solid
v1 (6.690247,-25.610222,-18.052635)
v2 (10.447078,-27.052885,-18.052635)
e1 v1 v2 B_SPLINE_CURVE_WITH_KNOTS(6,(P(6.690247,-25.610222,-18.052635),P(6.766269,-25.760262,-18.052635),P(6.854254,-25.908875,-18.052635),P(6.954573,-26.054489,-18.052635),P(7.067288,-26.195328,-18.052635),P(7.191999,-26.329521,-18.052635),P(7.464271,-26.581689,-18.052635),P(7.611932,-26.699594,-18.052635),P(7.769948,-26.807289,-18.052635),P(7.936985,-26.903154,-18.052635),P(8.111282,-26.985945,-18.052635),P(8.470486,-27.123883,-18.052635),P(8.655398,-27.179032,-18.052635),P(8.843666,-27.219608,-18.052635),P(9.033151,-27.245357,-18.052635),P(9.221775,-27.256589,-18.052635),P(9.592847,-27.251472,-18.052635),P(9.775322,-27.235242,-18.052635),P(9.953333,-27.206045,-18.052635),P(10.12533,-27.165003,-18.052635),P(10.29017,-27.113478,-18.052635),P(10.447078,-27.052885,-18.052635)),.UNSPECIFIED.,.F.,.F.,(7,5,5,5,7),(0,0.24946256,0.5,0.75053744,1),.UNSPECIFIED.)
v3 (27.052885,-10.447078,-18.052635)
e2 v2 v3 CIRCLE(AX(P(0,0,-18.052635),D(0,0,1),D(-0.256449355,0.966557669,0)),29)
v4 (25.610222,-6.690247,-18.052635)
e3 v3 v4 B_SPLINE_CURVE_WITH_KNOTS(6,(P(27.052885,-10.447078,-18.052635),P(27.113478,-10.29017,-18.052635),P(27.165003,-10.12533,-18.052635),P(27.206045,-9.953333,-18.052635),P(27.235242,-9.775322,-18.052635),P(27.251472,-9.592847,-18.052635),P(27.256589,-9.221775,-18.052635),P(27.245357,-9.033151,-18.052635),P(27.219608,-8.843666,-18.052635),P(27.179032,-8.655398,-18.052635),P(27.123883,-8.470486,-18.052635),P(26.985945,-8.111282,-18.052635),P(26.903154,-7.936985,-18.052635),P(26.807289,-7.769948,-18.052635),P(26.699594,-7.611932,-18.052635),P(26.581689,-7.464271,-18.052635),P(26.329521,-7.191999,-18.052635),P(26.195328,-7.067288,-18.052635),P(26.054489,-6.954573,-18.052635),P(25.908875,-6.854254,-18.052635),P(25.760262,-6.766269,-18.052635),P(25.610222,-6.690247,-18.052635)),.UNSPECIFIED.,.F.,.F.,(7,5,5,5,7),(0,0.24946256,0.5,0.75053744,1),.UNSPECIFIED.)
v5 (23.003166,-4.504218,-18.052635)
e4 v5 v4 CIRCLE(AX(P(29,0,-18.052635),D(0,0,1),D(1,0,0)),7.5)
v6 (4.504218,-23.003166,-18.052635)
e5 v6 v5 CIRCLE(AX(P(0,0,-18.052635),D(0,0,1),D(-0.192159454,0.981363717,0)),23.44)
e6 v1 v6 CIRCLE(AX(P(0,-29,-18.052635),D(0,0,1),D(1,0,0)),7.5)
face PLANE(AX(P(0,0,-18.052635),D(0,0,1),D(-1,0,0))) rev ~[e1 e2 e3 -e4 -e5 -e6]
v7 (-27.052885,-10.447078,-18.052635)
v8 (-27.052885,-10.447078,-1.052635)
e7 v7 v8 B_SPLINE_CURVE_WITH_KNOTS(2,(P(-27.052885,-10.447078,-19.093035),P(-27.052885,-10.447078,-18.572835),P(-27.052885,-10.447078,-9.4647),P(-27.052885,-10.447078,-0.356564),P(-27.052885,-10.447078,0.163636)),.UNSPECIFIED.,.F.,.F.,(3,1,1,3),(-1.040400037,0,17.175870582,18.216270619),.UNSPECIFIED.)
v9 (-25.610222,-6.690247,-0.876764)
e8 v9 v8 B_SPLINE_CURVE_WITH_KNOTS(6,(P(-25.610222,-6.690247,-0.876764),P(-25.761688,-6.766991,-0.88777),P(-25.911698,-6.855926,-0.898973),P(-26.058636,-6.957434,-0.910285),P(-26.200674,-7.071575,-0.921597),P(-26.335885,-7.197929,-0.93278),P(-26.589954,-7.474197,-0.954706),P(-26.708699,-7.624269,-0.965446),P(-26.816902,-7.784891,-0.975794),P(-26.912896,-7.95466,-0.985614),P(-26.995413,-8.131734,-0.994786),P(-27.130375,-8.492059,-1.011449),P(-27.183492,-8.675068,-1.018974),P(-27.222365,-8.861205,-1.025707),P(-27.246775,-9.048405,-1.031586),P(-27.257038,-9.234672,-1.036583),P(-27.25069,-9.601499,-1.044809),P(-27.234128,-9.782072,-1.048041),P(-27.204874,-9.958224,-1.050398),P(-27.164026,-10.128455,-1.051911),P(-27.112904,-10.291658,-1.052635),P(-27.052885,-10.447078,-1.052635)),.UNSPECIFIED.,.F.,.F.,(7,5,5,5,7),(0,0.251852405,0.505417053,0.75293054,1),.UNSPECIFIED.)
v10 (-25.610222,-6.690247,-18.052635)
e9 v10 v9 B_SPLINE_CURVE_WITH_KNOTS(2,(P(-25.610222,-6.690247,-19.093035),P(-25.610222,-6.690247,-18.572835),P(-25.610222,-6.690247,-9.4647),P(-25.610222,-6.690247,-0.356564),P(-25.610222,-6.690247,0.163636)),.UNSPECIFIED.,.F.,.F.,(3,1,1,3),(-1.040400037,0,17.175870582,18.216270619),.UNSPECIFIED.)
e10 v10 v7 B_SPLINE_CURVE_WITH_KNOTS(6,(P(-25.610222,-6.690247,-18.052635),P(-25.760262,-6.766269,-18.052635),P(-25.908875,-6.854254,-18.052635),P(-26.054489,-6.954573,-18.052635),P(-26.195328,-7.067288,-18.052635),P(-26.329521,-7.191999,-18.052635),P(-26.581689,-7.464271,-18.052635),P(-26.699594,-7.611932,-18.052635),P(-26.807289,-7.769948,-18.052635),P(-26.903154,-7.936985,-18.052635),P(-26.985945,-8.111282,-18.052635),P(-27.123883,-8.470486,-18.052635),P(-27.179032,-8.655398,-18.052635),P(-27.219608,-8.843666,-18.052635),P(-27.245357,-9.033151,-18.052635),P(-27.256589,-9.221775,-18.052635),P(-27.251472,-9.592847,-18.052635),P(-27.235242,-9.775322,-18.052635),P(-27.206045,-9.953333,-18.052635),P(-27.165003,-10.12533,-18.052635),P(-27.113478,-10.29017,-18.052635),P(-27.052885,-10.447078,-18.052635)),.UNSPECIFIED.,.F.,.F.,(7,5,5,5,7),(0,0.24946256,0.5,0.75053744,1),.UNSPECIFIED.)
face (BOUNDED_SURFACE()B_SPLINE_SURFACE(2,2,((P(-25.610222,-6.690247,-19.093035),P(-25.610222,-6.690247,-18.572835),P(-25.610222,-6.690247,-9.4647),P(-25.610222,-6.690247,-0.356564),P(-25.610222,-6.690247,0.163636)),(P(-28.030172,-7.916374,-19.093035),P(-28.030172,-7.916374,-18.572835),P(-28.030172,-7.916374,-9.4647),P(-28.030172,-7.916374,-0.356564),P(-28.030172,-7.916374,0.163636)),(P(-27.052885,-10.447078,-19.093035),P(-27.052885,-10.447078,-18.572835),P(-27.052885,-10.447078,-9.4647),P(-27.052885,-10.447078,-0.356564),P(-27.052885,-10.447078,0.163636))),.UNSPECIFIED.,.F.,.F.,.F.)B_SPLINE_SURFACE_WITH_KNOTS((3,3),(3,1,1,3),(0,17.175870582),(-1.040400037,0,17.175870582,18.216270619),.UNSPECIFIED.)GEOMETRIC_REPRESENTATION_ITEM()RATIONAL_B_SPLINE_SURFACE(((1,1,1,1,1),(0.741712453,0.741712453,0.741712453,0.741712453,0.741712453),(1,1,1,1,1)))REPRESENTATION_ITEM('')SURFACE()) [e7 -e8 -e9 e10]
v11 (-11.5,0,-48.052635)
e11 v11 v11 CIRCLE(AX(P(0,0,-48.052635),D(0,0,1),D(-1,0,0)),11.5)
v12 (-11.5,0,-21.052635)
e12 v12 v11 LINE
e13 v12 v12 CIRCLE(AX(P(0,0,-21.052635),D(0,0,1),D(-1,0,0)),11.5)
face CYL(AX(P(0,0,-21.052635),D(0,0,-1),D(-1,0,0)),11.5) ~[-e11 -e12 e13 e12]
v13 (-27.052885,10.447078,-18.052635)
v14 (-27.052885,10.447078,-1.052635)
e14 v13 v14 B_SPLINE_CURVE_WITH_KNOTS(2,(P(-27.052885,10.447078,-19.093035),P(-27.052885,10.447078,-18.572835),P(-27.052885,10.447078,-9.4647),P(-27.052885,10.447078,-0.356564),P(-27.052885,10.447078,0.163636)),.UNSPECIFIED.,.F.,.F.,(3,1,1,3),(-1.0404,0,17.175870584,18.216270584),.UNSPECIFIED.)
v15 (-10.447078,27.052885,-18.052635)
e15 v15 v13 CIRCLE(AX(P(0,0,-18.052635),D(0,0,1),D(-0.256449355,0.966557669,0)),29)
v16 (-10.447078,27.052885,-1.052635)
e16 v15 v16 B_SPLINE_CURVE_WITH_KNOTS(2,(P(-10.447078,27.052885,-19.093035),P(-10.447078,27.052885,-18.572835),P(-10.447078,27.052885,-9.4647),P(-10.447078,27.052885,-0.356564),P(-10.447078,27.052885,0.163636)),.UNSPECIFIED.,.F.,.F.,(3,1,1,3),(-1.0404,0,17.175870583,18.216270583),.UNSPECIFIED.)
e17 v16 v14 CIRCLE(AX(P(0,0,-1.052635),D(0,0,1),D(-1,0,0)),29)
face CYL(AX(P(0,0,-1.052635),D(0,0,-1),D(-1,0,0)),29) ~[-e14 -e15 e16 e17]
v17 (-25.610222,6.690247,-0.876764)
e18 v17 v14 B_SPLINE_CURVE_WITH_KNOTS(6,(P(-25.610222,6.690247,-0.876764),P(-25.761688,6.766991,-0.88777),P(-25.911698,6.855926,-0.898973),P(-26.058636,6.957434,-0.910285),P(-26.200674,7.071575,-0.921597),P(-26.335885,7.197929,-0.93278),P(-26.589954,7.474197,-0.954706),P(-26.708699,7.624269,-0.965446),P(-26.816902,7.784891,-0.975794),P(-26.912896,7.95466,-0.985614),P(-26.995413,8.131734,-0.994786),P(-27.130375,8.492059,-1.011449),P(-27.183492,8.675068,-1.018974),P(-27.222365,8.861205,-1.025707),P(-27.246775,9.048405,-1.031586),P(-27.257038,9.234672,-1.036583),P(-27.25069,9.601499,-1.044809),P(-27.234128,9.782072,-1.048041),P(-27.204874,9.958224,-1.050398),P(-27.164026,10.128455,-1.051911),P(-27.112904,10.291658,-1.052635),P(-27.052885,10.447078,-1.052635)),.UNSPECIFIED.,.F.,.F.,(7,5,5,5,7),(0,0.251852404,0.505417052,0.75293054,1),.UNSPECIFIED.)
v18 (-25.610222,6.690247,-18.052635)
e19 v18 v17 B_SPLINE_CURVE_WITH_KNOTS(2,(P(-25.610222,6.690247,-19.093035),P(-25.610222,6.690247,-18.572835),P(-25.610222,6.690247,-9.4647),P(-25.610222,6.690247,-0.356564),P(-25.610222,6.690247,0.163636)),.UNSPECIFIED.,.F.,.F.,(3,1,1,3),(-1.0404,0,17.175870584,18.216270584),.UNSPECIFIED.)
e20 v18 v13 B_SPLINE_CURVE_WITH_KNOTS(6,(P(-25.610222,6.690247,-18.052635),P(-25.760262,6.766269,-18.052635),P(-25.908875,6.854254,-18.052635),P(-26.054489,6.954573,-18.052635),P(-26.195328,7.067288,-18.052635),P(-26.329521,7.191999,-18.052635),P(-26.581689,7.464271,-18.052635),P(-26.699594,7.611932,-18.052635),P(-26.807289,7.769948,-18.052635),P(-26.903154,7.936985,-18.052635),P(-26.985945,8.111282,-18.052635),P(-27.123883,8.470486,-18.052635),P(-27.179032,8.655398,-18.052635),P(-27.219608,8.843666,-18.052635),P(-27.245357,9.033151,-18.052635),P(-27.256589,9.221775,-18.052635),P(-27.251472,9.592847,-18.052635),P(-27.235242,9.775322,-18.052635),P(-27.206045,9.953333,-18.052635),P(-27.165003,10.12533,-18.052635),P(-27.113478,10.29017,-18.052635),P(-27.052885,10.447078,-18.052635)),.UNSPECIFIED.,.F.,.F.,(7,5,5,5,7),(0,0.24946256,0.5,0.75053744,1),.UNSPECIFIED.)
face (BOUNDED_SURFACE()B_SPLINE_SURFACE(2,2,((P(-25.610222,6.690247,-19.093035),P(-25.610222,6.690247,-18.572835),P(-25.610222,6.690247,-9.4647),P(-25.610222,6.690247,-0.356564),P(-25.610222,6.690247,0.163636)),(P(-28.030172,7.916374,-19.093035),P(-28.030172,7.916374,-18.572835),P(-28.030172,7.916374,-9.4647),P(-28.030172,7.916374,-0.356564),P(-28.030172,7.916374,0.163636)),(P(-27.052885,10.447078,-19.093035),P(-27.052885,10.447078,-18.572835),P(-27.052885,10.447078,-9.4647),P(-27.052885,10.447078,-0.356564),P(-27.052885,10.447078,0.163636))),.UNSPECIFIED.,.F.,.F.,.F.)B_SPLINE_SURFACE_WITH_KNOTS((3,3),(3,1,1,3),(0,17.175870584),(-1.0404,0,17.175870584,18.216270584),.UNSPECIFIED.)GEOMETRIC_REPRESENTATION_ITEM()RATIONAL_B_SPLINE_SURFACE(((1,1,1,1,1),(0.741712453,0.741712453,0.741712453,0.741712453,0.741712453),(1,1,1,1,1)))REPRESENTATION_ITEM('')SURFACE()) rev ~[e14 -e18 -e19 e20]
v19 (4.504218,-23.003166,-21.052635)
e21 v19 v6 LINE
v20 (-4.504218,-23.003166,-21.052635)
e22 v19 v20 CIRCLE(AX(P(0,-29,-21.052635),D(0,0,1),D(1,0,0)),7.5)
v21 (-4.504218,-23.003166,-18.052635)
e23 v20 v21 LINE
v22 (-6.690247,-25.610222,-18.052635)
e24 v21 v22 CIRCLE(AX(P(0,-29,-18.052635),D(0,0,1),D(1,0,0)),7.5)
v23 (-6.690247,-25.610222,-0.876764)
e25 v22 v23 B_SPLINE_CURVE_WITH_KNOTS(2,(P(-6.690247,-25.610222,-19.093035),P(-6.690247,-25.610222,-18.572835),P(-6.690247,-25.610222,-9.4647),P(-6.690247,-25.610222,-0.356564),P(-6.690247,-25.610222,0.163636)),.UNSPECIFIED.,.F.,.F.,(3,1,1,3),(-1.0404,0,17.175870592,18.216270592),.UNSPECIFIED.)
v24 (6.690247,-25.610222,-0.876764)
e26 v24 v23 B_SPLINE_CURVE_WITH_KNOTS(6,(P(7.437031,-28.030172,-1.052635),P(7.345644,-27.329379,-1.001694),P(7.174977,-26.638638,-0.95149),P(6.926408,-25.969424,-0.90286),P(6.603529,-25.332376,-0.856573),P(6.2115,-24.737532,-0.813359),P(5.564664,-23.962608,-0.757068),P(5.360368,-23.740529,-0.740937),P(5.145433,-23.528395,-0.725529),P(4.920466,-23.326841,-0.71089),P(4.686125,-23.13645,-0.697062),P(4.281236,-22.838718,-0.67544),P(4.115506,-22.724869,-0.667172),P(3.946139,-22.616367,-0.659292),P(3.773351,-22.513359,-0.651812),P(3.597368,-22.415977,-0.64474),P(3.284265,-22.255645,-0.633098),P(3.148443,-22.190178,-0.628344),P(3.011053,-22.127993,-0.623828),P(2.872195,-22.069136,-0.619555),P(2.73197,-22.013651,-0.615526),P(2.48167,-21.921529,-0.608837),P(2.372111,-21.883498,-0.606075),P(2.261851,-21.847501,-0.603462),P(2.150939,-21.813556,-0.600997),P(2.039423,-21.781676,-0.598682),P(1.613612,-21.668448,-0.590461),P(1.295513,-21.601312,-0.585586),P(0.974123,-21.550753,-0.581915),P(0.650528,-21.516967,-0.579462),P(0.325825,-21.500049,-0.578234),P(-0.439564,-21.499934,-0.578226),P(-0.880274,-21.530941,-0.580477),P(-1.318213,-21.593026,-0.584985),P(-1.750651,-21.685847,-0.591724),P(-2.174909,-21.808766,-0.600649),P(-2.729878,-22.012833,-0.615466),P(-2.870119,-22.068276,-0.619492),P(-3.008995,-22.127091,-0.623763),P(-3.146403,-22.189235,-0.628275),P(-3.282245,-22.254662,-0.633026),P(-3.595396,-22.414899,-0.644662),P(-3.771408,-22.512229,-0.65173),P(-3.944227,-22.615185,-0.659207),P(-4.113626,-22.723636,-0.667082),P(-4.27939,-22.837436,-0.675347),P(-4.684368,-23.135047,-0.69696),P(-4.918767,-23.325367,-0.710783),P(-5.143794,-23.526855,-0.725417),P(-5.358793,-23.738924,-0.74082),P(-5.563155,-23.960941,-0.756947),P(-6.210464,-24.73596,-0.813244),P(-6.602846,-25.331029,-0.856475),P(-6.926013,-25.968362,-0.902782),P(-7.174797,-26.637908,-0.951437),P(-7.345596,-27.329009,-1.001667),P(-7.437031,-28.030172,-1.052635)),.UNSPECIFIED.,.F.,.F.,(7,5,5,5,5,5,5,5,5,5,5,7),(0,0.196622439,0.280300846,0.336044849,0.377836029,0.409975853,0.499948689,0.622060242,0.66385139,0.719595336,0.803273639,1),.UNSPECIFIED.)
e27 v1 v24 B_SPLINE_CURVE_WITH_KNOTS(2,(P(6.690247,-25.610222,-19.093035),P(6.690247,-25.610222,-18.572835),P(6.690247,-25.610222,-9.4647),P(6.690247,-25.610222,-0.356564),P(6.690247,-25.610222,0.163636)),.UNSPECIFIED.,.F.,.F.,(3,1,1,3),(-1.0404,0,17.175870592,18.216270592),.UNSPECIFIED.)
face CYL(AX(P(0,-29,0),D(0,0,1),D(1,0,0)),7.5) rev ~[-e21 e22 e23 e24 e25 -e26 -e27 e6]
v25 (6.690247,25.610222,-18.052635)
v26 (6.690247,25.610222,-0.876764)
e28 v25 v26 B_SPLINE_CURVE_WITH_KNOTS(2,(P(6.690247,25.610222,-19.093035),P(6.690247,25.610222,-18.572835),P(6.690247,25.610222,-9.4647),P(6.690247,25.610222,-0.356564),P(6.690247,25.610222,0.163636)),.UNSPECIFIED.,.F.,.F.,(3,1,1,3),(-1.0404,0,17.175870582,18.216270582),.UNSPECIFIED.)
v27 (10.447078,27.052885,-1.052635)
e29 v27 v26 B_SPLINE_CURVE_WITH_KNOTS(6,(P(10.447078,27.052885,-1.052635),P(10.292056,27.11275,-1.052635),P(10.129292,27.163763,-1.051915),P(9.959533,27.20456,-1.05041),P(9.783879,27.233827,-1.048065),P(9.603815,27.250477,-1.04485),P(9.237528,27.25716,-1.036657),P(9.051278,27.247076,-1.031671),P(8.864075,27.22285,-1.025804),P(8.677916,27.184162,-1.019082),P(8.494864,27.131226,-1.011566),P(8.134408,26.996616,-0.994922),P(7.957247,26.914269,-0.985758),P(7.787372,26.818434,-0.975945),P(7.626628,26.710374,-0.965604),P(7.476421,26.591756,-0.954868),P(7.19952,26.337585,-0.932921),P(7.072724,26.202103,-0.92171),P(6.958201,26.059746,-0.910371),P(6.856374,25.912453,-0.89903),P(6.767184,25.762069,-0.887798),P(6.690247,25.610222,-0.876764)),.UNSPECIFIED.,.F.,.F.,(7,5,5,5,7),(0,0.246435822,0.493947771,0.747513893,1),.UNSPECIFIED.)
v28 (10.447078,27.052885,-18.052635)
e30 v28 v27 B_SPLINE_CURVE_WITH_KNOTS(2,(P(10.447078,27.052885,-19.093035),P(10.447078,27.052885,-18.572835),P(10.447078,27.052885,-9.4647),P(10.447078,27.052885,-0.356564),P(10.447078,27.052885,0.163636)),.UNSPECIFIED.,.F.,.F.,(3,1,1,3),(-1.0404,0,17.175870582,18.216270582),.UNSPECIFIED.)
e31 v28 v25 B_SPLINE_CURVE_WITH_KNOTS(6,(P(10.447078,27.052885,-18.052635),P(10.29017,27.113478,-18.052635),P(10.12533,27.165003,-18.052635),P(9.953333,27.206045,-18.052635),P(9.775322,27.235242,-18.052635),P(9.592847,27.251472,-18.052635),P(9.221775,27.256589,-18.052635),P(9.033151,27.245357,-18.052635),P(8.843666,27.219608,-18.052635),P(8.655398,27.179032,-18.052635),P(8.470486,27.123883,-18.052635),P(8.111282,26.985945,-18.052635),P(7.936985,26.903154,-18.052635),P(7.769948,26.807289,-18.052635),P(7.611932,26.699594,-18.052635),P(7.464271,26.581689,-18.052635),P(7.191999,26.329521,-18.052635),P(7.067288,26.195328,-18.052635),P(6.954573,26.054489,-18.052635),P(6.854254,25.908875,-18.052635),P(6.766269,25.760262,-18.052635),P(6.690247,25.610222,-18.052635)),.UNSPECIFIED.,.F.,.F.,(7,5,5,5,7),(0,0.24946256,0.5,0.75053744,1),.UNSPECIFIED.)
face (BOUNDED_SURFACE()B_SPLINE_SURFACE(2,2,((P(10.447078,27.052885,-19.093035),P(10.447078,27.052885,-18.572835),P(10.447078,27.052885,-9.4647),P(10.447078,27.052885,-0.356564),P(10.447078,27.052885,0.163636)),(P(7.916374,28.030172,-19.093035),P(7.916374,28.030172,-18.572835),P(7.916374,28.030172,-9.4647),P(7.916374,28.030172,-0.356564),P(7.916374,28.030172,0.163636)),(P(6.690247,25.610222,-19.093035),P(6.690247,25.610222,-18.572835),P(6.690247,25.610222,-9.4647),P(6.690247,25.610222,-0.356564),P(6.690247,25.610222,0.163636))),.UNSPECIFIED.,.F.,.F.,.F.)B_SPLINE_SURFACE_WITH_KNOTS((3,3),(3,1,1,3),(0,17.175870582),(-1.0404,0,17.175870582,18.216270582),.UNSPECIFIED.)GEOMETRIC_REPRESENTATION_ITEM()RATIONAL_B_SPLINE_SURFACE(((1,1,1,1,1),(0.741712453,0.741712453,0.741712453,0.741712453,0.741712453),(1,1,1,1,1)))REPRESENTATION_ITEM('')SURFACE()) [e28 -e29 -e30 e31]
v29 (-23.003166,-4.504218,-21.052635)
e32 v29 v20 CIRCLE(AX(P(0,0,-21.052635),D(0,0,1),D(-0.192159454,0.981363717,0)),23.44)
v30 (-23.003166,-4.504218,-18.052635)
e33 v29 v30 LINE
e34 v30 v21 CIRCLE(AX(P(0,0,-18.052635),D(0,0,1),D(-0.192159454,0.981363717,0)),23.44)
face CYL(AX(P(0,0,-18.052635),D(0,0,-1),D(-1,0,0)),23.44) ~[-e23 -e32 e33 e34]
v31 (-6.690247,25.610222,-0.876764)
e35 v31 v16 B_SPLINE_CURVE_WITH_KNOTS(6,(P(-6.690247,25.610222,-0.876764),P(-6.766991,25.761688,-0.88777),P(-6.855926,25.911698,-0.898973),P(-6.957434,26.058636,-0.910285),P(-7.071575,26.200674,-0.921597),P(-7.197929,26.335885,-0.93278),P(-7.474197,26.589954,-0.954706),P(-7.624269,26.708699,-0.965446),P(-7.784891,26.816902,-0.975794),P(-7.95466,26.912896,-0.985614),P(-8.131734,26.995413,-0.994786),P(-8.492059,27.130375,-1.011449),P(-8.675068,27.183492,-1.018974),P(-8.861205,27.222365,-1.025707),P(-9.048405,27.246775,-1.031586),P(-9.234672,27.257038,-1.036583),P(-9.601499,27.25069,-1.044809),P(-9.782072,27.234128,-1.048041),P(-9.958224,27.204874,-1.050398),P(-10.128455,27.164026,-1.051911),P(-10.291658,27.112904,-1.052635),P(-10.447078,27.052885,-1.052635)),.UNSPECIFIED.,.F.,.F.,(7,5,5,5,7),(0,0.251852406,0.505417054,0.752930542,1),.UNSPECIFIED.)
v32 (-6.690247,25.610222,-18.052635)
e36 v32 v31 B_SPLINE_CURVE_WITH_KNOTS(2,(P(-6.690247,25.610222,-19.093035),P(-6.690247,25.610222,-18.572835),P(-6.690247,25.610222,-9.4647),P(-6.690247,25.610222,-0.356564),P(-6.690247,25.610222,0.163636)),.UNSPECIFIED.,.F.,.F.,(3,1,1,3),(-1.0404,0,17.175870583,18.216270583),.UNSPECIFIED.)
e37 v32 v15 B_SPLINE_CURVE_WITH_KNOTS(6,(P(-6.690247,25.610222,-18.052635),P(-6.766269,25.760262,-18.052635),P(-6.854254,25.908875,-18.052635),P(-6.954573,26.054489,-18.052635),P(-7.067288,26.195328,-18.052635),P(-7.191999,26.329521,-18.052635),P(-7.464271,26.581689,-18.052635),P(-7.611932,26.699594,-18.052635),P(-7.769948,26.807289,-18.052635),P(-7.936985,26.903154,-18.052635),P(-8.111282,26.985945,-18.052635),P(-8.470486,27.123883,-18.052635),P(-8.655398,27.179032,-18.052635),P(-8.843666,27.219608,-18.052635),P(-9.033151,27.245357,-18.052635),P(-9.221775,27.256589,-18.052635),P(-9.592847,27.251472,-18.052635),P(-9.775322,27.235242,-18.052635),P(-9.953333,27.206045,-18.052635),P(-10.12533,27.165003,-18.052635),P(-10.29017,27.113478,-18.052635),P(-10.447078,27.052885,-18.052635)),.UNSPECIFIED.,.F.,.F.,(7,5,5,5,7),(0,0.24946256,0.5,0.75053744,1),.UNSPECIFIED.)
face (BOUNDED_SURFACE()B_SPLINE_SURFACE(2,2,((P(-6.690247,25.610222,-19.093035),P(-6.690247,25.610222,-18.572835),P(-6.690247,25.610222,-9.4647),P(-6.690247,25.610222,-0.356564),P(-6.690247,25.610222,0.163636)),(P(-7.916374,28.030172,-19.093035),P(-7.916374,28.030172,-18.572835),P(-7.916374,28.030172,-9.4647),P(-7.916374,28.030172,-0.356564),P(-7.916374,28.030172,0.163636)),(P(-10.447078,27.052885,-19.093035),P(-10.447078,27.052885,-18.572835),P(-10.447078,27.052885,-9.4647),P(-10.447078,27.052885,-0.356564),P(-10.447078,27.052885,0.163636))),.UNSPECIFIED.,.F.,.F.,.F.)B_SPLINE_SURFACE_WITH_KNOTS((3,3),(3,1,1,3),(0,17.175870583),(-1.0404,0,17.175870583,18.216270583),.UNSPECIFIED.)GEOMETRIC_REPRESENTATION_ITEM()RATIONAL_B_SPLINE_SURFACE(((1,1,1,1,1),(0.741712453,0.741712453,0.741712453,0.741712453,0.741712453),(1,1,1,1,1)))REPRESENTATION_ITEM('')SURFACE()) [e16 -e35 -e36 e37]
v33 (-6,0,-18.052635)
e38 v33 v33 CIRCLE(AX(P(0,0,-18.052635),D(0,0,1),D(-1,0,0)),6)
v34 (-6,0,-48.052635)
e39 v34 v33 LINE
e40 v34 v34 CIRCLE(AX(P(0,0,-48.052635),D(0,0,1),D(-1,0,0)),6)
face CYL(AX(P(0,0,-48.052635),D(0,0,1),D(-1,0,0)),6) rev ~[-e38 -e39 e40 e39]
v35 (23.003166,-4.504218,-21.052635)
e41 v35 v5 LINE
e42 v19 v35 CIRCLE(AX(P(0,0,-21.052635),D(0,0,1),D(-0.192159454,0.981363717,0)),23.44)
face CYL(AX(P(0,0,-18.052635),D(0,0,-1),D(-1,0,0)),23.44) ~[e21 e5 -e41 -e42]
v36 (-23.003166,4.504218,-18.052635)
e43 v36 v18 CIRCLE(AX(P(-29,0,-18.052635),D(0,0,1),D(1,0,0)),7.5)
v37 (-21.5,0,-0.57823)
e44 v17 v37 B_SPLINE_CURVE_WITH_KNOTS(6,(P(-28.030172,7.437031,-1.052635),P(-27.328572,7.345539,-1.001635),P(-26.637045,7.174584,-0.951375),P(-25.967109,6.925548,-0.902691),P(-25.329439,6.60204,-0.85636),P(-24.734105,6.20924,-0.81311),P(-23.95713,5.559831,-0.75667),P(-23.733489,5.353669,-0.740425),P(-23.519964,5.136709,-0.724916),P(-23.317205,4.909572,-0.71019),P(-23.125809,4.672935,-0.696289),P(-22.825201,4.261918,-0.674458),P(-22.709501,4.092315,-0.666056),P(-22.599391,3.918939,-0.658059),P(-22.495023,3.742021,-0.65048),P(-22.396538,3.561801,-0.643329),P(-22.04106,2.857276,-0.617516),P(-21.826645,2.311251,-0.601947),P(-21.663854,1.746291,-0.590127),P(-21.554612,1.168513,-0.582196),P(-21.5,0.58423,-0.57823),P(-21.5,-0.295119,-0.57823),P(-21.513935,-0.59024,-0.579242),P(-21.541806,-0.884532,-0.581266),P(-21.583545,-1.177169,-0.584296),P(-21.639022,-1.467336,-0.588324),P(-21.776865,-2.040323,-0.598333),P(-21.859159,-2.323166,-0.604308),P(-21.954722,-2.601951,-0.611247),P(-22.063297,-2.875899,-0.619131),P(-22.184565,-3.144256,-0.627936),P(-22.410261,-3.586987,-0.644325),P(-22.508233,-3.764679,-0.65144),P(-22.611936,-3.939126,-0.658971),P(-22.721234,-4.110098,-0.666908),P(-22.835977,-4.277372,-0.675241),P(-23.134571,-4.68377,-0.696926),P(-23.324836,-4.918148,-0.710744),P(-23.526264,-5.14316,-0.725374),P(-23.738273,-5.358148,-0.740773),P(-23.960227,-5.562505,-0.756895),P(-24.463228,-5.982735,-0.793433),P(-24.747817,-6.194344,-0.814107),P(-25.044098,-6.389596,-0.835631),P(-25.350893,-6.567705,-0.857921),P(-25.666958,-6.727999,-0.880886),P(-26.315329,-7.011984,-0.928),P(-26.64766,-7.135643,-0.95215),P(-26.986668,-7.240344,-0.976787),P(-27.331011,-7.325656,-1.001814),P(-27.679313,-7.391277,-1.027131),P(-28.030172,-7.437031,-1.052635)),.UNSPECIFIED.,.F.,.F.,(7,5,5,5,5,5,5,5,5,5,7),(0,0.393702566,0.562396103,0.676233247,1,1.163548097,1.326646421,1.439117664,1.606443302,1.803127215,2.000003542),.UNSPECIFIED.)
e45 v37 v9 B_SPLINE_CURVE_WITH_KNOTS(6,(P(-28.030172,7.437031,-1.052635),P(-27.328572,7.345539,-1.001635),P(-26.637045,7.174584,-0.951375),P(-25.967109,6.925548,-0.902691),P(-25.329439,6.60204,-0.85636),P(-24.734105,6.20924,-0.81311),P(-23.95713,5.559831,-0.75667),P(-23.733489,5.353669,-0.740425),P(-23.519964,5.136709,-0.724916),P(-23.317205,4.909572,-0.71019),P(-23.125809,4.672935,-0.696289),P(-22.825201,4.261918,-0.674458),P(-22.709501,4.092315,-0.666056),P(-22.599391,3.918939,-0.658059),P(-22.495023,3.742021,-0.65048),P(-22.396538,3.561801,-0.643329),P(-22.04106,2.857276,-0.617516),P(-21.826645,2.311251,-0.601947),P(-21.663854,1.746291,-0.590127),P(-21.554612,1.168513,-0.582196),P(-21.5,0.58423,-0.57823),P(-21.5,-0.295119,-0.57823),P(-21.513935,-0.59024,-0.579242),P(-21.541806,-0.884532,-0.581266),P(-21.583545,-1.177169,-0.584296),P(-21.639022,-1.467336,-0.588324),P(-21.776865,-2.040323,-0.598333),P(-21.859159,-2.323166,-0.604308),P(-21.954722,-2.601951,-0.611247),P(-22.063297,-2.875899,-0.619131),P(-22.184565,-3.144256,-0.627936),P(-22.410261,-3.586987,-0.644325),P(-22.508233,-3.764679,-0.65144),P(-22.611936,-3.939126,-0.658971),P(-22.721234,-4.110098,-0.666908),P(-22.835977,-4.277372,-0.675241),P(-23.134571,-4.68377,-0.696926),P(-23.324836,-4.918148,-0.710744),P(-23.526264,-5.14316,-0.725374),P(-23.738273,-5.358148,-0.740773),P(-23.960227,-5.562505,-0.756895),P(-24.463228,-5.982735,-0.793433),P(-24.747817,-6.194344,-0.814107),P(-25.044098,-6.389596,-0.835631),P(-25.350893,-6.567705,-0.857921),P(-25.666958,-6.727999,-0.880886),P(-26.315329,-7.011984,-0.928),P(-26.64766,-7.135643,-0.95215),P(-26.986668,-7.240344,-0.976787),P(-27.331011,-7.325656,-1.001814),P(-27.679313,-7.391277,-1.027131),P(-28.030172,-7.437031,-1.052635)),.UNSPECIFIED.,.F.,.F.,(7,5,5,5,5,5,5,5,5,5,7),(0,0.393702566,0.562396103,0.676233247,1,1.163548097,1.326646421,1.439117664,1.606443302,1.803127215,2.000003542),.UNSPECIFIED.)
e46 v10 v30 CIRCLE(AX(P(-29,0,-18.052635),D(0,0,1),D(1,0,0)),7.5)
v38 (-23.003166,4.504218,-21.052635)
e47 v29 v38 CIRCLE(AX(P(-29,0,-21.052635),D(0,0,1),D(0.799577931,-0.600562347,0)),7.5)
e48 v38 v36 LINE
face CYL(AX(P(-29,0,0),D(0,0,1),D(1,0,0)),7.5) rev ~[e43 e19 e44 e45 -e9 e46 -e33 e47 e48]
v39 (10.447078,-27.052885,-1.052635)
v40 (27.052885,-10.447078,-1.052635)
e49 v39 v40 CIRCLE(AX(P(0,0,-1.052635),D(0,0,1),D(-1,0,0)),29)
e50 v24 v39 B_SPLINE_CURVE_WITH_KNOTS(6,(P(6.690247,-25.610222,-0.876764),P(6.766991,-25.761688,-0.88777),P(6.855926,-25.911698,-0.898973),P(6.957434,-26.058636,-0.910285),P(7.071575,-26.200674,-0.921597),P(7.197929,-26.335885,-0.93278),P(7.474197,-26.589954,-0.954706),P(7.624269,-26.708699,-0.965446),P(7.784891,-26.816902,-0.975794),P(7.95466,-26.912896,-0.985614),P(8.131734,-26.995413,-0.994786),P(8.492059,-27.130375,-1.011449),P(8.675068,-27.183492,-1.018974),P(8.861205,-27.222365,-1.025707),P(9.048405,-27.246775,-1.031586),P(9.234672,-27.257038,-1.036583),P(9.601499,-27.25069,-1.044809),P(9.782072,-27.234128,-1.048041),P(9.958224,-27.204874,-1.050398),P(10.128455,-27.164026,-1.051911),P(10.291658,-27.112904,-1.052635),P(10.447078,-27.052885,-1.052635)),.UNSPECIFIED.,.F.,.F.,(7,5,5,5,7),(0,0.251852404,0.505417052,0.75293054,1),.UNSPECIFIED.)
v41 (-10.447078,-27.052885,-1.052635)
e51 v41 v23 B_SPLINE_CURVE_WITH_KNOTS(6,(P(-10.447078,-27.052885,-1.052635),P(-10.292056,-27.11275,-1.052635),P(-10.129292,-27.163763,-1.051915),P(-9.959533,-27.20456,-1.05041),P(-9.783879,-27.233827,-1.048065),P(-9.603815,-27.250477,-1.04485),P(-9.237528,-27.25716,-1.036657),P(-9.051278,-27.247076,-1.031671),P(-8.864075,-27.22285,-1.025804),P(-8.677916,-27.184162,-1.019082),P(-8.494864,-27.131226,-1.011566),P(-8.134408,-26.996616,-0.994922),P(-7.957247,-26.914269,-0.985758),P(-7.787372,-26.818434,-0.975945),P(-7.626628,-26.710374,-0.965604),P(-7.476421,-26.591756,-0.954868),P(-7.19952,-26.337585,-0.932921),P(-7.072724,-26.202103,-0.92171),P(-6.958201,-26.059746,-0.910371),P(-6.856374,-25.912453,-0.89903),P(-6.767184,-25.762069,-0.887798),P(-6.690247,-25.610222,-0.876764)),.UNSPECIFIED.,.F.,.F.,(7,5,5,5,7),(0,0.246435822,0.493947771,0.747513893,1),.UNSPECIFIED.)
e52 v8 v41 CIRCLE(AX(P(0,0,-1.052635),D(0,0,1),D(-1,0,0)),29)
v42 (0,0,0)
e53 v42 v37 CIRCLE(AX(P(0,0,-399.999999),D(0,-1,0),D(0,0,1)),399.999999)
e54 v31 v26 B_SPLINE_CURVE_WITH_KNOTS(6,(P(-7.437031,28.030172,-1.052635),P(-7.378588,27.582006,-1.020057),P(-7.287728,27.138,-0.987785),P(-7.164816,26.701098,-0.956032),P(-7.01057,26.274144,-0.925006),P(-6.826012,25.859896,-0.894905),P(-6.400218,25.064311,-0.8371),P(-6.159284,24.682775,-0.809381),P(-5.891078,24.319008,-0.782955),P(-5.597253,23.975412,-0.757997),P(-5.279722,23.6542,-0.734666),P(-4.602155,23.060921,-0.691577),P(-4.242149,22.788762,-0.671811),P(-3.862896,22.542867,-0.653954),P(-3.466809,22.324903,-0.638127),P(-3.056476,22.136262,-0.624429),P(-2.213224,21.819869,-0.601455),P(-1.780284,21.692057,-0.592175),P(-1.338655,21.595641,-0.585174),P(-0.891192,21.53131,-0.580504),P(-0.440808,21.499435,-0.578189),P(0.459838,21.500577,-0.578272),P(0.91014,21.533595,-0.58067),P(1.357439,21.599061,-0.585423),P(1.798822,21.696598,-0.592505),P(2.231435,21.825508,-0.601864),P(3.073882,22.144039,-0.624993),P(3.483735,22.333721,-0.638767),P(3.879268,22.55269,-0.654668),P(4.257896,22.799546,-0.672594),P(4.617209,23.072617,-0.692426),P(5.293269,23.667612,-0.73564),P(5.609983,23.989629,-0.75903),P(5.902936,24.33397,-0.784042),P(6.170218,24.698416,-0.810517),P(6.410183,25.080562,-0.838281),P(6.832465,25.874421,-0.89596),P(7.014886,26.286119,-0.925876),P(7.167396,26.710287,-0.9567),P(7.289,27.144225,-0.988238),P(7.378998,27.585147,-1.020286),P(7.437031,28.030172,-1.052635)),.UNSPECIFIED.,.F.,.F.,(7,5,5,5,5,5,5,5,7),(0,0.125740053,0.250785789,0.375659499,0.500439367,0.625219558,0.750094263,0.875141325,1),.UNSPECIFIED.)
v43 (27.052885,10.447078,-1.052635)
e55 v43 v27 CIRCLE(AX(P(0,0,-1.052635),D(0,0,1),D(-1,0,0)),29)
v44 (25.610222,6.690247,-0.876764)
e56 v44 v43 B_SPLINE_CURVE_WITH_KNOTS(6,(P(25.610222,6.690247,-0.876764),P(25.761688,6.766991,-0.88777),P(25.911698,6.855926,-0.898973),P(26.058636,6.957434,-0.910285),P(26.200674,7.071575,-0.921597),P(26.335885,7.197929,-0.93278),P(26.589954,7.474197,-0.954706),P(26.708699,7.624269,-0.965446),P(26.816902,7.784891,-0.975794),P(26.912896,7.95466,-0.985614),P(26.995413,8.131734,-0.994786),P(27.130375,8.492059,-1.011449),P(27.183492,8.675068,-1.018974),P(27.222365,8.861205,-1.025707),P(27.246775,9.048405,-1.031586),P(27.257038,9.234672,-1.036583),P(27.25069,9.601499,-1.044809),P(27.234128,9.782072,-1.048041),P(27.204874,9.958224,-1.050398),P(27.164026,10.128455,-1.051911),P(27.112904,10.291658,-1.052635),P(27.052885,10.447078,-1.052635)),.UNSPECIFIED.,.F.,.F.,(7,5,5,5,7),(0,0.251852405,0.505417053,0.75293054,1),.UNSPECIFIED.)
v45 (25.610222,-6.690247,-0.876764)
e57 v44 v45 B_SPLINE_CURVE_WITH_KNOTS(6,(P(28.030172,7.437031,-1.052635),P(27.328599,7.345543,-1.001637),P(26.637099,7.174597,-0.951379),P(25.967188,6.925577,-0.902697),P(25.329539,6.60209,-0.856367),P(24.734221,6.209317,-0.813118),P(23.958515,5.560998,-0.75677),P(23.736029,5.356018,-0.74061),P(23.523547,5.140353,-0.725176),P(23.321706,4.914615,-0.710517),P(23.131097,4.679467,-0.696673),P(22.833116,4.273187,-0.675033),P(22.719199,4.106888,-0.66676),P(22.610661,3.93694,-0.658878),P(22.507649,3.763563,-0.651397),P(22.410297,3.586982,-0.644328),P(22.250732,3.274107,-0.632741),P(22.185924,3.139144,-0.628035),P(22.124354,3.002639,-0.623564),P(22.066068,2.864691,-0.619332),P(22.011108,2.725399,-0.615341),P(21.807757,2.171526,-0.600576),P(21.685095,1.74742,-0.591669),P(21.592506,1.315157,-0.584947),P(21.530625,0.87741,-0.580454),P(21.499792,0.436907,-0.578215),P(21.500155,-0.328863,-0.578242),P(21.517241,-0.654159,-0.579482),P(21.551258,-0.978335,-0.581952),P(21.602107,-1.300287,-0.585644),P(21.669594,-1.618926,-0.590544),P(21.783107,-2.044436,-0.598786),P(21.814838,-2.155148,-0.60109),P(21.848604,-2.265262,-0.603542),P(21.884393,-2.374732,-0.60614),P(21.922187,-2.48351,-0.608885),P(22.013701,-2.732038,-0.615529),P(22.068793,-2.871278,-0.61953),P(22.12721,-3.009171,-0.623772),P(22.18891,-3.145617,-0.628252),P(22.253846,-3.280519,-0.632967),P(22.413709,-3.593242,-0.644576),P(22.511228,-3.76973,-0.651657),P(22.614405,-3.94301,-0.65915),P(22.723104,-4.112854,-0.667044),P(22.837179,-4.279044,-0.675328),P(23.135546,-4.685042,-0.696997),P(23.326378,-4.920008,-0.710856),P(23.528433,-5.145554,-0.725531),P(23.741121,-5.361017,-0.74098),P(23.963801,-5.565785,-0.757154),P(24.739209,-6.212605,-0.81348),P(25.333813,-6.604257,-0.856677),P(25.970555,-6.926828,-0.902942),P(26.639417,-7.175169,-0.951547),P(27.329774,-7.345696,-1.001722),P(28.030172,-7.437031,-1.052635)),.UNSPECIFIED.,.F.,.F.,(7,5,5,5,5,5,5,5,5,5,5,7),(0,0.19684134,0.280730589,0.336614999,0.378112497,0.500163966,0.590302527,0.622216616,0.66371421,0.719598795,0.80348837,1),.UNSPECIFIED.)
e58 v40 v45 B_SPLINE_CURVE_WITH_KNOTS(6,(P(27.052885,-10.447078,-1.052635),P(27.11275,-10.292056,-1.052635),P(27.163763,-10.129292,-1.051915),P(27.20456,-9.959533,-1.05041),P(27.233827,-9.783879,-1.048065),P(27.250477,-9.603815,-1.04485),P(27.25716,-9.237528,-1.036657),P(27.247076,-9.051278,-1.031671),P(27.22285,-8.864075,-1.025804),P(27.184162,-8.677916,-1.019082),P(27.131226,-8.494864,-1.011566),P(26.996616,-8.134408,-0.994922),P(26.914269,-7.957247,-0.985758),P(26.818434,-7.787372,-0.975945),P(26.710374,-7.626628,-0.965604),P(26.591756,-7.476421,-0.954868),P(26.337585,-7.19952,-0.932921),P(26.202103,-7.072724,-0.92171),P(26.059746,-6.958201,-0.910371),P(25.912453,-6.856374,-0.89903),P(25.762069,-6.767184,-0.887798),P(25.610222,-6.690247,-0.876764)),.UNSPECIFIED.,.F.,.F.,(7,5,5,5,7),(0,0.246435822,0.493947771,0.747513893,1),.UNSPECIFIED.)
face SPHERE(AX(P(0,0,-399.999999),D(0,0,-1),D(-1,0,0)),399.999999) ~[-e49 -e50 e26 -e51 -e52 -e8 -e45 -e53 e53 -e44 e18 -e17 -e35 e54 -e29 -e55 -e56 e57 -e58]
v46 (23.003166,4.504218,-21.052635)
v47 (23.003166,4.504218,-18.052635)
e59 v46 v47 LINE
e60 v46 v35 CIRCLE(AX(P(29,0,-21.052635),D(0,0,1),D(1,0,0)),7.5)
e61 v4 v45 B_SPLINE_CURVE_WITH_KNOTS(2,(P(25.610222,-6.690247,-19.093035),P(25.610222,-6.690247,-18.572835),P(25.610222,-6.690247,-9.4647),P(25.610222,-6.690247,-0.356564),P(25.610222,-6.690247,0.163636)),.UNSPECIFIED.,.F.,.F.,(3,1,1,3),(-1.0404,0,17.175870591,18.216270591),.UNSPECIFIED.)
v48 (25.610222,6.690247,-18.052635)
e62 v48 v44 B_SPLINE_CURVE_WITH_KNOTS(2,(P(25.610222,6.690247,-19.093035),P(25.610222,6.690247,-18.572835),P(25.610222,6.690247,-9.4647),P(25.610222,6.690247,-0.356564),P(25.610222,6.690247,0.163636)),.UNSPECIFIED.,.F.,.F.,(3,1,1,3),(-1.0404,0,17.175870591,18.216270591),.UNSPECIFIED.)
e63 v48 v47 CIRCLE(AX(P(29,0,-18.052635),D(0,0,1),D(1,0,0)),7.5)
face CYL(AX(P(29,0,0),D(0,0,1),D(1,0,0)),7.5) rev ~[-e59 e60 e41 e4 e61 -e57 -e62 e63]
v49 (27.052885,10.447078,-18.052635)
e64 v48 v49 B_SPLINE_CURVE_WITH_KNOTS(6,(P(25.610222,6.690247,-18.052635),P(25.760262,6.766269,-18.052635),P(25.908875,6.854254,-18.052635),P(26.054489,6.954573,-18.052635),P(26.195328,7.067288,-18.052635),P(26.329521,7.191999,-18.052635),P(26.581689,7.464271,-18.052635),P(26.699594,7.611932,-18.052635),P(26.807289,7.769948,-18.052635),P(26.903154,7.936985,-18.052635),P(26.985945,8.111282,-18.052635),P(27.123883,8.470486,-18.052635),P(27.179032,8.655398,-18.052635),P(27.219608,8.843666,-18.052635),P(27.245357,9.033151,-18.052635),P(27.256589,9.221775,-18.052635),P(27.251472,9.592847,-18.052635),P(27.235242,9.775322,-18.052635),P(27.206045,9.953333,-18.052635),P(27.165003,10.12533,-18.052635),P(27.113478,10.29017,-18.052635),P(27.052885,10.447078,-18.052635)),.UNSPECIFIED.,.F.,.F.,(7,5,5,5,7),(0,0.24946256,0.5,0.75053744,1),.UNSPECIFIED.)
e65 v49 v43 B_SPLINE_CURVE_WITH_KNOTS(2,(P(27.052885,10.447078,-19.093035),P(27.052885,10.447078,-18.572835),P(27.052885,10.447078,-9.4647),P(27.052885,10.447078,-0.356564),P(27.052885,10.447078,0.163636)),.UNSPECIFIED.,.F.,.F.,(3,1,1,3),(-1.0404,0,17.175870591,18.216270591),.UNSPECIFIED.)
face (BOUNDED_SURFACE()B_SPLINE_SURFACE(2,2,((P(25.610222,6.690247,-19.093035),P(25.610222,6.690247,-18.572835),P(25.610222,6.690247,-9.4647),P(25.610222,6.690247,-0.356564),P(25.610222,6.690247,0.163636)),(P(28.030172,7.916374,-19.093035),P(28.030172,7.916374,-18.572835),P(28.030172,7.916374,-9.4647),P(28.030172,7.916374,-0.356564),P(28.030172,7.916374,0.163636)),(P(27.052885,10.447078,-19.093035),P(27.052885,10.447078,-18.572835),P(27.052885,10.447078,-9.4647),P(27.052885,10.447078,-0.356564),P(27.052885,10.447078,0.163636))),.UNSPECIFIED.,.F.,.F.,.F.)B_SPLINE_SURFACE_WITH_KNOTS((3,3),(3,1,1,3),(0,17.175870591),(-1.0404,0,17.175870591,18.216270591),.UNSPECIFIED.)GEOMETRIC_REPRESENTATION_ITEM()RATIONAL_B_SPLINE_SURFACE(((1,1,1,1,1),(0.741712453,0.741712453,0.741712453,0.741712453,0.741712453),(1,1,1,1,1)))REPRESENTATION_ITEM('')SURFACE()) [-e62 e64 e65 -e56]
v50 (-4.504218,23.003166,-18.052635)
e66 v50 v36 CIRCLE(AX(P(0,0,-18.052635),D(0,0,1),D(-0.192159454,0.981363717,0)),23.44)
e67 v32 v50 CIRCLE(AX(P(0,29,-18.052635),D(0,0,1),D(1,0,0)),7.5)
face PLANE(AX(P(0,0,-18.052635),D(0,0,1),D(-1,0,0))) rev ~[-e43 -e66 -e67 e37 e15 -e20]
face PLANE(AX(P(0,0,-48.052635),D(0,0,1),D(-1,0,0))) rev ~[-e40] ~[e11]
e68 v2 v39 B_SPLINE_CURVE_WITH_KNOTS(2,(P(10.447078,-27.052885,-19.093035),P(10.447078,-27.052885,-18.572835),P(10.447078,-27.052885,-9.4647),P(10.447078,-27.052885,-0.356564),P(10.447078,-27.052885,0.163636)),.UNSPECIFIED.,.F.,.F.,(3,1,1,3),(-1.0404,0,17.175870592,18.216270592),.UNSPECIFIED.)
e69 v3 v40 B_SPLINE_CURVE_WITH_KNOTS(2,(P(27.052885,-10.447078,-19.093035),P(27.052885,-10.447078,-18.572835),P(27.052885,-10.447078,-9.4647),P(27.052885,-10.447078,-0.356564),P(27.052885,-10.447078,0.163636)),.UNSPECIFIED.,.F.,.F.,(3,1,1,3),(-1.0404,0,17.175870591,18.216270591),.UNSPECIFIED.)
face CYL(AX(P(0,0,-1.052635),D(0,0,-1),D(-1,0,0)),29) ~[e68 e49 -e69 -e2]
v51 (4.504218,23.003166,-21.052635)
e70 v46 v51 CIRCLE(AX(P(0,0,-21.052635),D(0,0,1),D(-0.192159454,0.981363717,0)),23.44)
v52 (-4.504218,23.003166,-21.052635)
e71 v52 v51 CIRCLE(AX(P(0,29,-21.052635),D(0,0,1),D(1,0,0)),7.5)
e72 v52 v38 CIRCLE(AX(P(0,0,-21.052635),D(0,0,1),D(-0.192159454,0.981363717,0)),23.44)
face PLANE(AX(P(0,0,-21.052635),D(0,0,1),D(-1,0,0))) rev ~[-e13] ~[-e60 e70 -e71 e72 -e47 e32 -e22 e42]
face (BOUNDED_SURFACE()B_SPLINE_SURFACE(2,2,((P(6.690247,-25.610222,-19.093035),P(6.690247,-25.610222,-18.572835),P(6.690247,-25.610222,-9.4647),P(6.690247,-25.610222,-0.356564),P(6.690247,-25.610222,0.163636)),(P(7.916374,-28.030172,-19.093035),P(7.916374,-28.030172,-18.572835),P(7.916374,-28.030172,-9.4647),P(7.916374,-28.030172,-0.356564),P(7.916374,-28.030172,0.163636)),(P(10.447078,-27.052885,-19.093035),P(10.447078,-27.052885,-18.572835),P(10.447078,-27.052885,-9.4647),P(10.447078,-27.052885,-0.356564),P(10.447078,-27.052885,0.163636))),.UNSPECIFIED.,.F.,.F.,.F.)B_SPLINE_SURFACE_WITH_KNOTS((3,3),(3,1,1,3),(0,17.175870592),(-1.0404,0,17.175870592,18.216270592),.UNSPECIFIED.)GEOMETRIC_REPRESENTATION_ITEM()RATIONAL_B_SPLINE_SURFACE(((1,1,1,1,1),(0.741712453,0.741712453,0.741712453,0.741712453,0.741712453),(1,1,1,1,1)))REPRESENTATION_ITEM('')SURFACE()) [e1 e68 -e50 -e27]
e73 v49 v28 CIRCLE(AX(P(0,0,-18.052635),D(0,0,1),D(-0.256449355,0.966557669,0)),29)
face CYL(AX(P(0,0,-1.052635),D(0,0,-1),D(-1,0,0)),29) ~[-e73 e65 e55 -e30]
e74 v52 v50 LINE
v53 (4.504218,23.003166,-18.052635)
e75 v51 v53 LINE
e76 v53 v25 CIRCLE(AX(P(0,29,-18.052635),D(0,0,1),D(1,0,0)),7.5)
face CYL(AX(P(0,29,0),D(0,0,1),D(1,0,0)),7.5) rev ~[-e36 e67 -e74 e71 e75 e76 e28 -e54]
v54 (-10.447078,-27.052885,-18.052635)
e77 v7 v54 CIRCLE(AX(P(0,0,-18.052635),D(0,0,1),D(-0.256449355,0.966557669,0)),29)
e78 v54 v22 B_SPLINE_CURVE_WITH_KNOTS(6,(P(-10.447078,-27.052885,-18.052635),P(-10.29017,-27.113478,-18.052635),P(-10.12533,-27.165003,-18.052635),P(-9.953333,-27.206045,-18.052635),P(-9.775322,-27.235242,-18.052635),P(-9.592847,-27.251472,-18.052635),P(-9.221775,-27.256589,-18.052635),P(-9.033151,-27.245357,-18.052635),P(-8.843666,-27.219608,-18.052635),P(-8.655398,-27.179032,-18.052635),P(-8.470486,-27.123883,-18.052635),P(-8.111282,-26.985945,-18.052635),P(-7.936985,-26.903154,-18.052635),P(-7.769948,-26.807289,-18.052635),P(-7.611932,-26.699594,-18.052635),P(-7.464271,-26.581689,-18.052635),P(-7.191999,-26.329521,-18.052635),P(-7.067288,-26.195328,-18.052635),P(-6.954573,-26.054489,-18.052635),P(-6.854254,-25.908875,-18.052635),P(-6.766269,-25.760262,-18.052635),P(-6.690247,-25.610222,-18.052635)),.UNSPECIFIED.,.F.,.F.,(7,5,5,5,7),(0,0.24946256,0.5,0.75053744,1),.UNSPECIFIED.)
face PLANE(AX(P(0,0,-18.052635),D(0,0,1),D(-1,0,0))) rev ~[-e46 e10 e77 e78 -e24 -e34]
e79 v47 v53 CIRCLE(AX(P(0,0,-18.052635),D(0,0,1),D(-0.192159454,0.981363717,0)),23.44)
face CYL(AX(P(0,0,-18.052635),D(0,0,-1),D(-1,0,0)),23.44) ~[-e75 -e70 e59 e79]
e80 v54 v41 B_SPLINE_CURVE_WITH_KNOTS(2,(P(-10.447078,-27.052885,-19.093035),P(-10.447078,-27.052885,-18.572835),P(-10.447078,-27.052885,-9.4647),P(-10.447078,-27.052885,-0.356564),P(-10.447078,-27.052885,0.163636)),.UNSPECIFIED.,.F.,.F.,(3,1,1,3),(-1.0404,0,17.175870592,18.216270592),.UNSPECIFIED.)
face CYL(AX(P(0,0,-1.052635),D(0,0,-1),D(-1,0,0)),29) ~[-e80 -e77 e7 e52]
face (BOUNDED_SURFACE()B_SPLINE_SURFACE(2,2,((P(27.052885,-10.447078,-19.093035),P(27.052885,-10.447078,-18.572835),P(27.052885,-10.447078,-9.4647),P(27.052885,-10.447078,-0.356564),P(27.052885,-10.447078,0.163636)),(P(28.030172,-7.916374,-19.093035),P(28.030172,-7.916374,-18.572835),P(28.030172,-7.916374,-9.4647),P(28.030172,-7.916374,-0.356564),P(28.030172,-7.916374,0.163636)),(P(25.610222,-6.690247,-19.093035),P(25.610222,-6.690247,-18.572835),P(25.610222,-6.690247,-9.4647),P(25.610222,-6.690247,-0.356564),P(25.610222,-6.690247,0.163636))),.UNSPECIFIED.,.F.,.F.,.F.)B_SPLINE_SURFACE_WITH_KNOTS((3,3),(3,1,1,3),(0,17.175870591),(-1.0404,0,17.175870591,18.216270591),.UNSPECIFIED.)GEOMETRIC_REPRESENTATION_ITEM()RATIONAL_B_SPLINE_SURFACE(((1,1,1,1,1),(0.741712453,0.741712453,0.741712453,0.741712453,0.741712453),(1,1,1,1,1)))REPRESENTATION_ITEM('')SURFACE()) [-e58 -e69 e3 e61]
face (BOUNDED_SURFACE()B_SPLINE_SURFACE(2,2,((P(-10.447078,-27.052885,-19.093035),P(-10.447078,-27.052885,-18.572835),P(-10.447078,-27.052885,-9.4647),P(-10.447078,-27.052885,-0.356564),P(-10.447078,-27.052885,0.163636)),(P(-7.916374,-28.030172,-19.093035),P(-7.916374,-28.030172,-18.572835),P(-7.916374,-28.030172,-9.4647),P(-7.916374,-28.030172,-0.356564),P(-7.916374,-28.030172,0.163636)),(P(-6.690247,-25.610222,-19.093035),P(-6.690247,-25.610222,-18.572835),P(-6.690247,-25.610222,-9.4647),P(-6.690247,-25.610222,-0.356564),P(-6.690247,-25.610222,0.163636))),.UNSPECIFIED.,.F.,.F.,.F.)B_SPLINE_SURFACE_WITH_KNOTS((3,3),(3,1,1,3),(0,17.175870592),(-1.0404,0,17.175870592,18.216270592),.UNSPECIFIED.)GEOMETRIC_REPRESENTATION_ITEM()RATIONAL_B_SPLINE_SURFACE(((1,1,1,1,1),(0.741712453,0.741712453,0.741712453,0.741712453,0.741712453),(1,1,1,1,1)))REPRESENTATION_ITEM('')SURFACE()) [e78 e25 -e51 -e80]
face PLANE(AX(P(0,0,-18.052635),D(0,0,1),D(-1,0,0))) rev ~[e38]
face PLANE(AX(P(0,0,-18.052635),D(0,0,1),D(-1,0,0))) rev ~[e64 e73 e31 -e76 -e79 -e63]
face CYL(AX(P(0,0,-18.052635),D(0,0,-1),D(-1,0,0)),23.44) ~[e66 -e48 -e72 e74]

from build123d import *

# Parameters (mm, degrees)
CUT_EXTRUDE1_REACH = 50.053
SKETCH2_R          = 7.5
FILLET1_R          = 3


with BuildPart() as part:
    # Sketch1 → Revolve1 (revolve)
    with BuildSketch(Plane(origin=(0, 0, 0), x_dir=(1, 0, 0), z_dir=(0, 1, 0))):
        with BuildLine():
            Line((0, 18.052635051), (0, 0))
            ThreePointArc((0, 0), (-14.509548929, 0.263245385), (-29, 1.052635051))
            Line((-29, 1.052635051), (-29, 18.052635051))
            Line((-29, 18.052635051), (-23.44, 18.052635051))
            Line((-23.44, 18.052635051), (-23.44, 21.052635051))
            Line((-23.44, 21.052635051), (-11.5, 21.052635051))
            Line((-11.5, 21.052635051), (-11.5, 48.052635051))
            Line((-11.5, 48.052635051), (-6, 48.052635051))
            Line((-6, 48.052635051), (-6, 18.052635051))
            Line((-6, 18.052635051), (0, 18.052635051))
        make_face()
    revolve(axis=Axis((0, 0, -358.843484937), (0, 0, 1)))

    # Sketch2 → Cut-Extrude1 (cut, up to next)
    with BuildSketch(Plane.XY, mode=Mode.PRIVATE) as cut_extrude1_sk1:
        with Locations((0, 29)):
            Circle(SKETCH2_R)
    cut_extrude1_tool1 = extrude(cut_extrude1_sk1.sketch, amount=-CUT_EXTRUDE1_REACH, mode=Mode.PRIVATE) & part.part
    add(cut_extrude1_tool1.solids().sort_by_distance((0, 29, 0))[0], mode=Mode.SUBTRACT)
    # Sketch2 → Cut-Extrude1 (cut, up to next)
    with BuildSketch(Plane.XY, mode=Mode.PRIVATE) as cut_extrude1_sk2:
        with Locations((29, 0)):
            Circle(SKETCH2_R)
    cut_extrude1_tool2 = extrude(cut_extrude1_sk2.sketch, amount=-CUT_EXTRUDE1_REACH, mode=Mode.PRIVATE) & part.part
    add(cut_extrude1_tool2.solids().sort_by_distance((29, 0, 0))[0], mode=Mode.SUBTRACT)
    # Sketch2 → Cut-Extrude1 (cut, up to next)
    with BuildSketch(Plane.XY, mode=Mode.PRIVATE) as cut_extrude1_sk3:
        with Locations((0, -29)):
            Circle(SKETCH2_R)
    cut_extrude1_tool3 = extrude(cut_extrude1_sk3.sketch, amount=-CUT_EXTRUDE1_REACH, mode=Mode.PRIVATE) & part.part
    add(cut_extrude1_tool3.solids().sort_by_distance((0, -29, 0))[0], mode=Mode.SUBTRACT)
    # Sketch2 → Cut-Extrude1 (cut, up to next)
    with BuildSketch(Plane.XY, mode=Mode.PRIVATE) as cut_extrude1_sk4:
        with Locations((-29, 0)):
            Circle(SKETCH2_R)
    cut_extrude1_tool4 = extrude(cut_extrude1_sk4.sketch, amount=-CUT_EXTRUDE1_REACH, mode=Mode.PRIVATE) & part.part
    add(cut_extrude1_tool4.solids().sort_by_distance((-29, 0, 0))[0], mode=Mode.SUBTRACT)

    # Fillet1
    fillet1_edges = [part.edges().sort_by_distance(p)[0] for p in [
        (-28.030172414, -7.437031293, -9.552634751),
        (-28.030172414, 7.437031293, -9.552635051),
        (7.437031293, -28.030172414, -9.552635051),
        (-7.437031293, -28.030172414, -9.552635051),
        (28.030172414, 7.437031293, -9.552635051),
        (28.030172414, -7.437031293, -9.552635051),
        (-7.437031293, 28.030172414, -9.552635051),
        (7.437031293, 28.030172414, -9.552635051),
    ]]
    fillet(fillet1_edges, radius=FILLET1_R)


solid = part.part
